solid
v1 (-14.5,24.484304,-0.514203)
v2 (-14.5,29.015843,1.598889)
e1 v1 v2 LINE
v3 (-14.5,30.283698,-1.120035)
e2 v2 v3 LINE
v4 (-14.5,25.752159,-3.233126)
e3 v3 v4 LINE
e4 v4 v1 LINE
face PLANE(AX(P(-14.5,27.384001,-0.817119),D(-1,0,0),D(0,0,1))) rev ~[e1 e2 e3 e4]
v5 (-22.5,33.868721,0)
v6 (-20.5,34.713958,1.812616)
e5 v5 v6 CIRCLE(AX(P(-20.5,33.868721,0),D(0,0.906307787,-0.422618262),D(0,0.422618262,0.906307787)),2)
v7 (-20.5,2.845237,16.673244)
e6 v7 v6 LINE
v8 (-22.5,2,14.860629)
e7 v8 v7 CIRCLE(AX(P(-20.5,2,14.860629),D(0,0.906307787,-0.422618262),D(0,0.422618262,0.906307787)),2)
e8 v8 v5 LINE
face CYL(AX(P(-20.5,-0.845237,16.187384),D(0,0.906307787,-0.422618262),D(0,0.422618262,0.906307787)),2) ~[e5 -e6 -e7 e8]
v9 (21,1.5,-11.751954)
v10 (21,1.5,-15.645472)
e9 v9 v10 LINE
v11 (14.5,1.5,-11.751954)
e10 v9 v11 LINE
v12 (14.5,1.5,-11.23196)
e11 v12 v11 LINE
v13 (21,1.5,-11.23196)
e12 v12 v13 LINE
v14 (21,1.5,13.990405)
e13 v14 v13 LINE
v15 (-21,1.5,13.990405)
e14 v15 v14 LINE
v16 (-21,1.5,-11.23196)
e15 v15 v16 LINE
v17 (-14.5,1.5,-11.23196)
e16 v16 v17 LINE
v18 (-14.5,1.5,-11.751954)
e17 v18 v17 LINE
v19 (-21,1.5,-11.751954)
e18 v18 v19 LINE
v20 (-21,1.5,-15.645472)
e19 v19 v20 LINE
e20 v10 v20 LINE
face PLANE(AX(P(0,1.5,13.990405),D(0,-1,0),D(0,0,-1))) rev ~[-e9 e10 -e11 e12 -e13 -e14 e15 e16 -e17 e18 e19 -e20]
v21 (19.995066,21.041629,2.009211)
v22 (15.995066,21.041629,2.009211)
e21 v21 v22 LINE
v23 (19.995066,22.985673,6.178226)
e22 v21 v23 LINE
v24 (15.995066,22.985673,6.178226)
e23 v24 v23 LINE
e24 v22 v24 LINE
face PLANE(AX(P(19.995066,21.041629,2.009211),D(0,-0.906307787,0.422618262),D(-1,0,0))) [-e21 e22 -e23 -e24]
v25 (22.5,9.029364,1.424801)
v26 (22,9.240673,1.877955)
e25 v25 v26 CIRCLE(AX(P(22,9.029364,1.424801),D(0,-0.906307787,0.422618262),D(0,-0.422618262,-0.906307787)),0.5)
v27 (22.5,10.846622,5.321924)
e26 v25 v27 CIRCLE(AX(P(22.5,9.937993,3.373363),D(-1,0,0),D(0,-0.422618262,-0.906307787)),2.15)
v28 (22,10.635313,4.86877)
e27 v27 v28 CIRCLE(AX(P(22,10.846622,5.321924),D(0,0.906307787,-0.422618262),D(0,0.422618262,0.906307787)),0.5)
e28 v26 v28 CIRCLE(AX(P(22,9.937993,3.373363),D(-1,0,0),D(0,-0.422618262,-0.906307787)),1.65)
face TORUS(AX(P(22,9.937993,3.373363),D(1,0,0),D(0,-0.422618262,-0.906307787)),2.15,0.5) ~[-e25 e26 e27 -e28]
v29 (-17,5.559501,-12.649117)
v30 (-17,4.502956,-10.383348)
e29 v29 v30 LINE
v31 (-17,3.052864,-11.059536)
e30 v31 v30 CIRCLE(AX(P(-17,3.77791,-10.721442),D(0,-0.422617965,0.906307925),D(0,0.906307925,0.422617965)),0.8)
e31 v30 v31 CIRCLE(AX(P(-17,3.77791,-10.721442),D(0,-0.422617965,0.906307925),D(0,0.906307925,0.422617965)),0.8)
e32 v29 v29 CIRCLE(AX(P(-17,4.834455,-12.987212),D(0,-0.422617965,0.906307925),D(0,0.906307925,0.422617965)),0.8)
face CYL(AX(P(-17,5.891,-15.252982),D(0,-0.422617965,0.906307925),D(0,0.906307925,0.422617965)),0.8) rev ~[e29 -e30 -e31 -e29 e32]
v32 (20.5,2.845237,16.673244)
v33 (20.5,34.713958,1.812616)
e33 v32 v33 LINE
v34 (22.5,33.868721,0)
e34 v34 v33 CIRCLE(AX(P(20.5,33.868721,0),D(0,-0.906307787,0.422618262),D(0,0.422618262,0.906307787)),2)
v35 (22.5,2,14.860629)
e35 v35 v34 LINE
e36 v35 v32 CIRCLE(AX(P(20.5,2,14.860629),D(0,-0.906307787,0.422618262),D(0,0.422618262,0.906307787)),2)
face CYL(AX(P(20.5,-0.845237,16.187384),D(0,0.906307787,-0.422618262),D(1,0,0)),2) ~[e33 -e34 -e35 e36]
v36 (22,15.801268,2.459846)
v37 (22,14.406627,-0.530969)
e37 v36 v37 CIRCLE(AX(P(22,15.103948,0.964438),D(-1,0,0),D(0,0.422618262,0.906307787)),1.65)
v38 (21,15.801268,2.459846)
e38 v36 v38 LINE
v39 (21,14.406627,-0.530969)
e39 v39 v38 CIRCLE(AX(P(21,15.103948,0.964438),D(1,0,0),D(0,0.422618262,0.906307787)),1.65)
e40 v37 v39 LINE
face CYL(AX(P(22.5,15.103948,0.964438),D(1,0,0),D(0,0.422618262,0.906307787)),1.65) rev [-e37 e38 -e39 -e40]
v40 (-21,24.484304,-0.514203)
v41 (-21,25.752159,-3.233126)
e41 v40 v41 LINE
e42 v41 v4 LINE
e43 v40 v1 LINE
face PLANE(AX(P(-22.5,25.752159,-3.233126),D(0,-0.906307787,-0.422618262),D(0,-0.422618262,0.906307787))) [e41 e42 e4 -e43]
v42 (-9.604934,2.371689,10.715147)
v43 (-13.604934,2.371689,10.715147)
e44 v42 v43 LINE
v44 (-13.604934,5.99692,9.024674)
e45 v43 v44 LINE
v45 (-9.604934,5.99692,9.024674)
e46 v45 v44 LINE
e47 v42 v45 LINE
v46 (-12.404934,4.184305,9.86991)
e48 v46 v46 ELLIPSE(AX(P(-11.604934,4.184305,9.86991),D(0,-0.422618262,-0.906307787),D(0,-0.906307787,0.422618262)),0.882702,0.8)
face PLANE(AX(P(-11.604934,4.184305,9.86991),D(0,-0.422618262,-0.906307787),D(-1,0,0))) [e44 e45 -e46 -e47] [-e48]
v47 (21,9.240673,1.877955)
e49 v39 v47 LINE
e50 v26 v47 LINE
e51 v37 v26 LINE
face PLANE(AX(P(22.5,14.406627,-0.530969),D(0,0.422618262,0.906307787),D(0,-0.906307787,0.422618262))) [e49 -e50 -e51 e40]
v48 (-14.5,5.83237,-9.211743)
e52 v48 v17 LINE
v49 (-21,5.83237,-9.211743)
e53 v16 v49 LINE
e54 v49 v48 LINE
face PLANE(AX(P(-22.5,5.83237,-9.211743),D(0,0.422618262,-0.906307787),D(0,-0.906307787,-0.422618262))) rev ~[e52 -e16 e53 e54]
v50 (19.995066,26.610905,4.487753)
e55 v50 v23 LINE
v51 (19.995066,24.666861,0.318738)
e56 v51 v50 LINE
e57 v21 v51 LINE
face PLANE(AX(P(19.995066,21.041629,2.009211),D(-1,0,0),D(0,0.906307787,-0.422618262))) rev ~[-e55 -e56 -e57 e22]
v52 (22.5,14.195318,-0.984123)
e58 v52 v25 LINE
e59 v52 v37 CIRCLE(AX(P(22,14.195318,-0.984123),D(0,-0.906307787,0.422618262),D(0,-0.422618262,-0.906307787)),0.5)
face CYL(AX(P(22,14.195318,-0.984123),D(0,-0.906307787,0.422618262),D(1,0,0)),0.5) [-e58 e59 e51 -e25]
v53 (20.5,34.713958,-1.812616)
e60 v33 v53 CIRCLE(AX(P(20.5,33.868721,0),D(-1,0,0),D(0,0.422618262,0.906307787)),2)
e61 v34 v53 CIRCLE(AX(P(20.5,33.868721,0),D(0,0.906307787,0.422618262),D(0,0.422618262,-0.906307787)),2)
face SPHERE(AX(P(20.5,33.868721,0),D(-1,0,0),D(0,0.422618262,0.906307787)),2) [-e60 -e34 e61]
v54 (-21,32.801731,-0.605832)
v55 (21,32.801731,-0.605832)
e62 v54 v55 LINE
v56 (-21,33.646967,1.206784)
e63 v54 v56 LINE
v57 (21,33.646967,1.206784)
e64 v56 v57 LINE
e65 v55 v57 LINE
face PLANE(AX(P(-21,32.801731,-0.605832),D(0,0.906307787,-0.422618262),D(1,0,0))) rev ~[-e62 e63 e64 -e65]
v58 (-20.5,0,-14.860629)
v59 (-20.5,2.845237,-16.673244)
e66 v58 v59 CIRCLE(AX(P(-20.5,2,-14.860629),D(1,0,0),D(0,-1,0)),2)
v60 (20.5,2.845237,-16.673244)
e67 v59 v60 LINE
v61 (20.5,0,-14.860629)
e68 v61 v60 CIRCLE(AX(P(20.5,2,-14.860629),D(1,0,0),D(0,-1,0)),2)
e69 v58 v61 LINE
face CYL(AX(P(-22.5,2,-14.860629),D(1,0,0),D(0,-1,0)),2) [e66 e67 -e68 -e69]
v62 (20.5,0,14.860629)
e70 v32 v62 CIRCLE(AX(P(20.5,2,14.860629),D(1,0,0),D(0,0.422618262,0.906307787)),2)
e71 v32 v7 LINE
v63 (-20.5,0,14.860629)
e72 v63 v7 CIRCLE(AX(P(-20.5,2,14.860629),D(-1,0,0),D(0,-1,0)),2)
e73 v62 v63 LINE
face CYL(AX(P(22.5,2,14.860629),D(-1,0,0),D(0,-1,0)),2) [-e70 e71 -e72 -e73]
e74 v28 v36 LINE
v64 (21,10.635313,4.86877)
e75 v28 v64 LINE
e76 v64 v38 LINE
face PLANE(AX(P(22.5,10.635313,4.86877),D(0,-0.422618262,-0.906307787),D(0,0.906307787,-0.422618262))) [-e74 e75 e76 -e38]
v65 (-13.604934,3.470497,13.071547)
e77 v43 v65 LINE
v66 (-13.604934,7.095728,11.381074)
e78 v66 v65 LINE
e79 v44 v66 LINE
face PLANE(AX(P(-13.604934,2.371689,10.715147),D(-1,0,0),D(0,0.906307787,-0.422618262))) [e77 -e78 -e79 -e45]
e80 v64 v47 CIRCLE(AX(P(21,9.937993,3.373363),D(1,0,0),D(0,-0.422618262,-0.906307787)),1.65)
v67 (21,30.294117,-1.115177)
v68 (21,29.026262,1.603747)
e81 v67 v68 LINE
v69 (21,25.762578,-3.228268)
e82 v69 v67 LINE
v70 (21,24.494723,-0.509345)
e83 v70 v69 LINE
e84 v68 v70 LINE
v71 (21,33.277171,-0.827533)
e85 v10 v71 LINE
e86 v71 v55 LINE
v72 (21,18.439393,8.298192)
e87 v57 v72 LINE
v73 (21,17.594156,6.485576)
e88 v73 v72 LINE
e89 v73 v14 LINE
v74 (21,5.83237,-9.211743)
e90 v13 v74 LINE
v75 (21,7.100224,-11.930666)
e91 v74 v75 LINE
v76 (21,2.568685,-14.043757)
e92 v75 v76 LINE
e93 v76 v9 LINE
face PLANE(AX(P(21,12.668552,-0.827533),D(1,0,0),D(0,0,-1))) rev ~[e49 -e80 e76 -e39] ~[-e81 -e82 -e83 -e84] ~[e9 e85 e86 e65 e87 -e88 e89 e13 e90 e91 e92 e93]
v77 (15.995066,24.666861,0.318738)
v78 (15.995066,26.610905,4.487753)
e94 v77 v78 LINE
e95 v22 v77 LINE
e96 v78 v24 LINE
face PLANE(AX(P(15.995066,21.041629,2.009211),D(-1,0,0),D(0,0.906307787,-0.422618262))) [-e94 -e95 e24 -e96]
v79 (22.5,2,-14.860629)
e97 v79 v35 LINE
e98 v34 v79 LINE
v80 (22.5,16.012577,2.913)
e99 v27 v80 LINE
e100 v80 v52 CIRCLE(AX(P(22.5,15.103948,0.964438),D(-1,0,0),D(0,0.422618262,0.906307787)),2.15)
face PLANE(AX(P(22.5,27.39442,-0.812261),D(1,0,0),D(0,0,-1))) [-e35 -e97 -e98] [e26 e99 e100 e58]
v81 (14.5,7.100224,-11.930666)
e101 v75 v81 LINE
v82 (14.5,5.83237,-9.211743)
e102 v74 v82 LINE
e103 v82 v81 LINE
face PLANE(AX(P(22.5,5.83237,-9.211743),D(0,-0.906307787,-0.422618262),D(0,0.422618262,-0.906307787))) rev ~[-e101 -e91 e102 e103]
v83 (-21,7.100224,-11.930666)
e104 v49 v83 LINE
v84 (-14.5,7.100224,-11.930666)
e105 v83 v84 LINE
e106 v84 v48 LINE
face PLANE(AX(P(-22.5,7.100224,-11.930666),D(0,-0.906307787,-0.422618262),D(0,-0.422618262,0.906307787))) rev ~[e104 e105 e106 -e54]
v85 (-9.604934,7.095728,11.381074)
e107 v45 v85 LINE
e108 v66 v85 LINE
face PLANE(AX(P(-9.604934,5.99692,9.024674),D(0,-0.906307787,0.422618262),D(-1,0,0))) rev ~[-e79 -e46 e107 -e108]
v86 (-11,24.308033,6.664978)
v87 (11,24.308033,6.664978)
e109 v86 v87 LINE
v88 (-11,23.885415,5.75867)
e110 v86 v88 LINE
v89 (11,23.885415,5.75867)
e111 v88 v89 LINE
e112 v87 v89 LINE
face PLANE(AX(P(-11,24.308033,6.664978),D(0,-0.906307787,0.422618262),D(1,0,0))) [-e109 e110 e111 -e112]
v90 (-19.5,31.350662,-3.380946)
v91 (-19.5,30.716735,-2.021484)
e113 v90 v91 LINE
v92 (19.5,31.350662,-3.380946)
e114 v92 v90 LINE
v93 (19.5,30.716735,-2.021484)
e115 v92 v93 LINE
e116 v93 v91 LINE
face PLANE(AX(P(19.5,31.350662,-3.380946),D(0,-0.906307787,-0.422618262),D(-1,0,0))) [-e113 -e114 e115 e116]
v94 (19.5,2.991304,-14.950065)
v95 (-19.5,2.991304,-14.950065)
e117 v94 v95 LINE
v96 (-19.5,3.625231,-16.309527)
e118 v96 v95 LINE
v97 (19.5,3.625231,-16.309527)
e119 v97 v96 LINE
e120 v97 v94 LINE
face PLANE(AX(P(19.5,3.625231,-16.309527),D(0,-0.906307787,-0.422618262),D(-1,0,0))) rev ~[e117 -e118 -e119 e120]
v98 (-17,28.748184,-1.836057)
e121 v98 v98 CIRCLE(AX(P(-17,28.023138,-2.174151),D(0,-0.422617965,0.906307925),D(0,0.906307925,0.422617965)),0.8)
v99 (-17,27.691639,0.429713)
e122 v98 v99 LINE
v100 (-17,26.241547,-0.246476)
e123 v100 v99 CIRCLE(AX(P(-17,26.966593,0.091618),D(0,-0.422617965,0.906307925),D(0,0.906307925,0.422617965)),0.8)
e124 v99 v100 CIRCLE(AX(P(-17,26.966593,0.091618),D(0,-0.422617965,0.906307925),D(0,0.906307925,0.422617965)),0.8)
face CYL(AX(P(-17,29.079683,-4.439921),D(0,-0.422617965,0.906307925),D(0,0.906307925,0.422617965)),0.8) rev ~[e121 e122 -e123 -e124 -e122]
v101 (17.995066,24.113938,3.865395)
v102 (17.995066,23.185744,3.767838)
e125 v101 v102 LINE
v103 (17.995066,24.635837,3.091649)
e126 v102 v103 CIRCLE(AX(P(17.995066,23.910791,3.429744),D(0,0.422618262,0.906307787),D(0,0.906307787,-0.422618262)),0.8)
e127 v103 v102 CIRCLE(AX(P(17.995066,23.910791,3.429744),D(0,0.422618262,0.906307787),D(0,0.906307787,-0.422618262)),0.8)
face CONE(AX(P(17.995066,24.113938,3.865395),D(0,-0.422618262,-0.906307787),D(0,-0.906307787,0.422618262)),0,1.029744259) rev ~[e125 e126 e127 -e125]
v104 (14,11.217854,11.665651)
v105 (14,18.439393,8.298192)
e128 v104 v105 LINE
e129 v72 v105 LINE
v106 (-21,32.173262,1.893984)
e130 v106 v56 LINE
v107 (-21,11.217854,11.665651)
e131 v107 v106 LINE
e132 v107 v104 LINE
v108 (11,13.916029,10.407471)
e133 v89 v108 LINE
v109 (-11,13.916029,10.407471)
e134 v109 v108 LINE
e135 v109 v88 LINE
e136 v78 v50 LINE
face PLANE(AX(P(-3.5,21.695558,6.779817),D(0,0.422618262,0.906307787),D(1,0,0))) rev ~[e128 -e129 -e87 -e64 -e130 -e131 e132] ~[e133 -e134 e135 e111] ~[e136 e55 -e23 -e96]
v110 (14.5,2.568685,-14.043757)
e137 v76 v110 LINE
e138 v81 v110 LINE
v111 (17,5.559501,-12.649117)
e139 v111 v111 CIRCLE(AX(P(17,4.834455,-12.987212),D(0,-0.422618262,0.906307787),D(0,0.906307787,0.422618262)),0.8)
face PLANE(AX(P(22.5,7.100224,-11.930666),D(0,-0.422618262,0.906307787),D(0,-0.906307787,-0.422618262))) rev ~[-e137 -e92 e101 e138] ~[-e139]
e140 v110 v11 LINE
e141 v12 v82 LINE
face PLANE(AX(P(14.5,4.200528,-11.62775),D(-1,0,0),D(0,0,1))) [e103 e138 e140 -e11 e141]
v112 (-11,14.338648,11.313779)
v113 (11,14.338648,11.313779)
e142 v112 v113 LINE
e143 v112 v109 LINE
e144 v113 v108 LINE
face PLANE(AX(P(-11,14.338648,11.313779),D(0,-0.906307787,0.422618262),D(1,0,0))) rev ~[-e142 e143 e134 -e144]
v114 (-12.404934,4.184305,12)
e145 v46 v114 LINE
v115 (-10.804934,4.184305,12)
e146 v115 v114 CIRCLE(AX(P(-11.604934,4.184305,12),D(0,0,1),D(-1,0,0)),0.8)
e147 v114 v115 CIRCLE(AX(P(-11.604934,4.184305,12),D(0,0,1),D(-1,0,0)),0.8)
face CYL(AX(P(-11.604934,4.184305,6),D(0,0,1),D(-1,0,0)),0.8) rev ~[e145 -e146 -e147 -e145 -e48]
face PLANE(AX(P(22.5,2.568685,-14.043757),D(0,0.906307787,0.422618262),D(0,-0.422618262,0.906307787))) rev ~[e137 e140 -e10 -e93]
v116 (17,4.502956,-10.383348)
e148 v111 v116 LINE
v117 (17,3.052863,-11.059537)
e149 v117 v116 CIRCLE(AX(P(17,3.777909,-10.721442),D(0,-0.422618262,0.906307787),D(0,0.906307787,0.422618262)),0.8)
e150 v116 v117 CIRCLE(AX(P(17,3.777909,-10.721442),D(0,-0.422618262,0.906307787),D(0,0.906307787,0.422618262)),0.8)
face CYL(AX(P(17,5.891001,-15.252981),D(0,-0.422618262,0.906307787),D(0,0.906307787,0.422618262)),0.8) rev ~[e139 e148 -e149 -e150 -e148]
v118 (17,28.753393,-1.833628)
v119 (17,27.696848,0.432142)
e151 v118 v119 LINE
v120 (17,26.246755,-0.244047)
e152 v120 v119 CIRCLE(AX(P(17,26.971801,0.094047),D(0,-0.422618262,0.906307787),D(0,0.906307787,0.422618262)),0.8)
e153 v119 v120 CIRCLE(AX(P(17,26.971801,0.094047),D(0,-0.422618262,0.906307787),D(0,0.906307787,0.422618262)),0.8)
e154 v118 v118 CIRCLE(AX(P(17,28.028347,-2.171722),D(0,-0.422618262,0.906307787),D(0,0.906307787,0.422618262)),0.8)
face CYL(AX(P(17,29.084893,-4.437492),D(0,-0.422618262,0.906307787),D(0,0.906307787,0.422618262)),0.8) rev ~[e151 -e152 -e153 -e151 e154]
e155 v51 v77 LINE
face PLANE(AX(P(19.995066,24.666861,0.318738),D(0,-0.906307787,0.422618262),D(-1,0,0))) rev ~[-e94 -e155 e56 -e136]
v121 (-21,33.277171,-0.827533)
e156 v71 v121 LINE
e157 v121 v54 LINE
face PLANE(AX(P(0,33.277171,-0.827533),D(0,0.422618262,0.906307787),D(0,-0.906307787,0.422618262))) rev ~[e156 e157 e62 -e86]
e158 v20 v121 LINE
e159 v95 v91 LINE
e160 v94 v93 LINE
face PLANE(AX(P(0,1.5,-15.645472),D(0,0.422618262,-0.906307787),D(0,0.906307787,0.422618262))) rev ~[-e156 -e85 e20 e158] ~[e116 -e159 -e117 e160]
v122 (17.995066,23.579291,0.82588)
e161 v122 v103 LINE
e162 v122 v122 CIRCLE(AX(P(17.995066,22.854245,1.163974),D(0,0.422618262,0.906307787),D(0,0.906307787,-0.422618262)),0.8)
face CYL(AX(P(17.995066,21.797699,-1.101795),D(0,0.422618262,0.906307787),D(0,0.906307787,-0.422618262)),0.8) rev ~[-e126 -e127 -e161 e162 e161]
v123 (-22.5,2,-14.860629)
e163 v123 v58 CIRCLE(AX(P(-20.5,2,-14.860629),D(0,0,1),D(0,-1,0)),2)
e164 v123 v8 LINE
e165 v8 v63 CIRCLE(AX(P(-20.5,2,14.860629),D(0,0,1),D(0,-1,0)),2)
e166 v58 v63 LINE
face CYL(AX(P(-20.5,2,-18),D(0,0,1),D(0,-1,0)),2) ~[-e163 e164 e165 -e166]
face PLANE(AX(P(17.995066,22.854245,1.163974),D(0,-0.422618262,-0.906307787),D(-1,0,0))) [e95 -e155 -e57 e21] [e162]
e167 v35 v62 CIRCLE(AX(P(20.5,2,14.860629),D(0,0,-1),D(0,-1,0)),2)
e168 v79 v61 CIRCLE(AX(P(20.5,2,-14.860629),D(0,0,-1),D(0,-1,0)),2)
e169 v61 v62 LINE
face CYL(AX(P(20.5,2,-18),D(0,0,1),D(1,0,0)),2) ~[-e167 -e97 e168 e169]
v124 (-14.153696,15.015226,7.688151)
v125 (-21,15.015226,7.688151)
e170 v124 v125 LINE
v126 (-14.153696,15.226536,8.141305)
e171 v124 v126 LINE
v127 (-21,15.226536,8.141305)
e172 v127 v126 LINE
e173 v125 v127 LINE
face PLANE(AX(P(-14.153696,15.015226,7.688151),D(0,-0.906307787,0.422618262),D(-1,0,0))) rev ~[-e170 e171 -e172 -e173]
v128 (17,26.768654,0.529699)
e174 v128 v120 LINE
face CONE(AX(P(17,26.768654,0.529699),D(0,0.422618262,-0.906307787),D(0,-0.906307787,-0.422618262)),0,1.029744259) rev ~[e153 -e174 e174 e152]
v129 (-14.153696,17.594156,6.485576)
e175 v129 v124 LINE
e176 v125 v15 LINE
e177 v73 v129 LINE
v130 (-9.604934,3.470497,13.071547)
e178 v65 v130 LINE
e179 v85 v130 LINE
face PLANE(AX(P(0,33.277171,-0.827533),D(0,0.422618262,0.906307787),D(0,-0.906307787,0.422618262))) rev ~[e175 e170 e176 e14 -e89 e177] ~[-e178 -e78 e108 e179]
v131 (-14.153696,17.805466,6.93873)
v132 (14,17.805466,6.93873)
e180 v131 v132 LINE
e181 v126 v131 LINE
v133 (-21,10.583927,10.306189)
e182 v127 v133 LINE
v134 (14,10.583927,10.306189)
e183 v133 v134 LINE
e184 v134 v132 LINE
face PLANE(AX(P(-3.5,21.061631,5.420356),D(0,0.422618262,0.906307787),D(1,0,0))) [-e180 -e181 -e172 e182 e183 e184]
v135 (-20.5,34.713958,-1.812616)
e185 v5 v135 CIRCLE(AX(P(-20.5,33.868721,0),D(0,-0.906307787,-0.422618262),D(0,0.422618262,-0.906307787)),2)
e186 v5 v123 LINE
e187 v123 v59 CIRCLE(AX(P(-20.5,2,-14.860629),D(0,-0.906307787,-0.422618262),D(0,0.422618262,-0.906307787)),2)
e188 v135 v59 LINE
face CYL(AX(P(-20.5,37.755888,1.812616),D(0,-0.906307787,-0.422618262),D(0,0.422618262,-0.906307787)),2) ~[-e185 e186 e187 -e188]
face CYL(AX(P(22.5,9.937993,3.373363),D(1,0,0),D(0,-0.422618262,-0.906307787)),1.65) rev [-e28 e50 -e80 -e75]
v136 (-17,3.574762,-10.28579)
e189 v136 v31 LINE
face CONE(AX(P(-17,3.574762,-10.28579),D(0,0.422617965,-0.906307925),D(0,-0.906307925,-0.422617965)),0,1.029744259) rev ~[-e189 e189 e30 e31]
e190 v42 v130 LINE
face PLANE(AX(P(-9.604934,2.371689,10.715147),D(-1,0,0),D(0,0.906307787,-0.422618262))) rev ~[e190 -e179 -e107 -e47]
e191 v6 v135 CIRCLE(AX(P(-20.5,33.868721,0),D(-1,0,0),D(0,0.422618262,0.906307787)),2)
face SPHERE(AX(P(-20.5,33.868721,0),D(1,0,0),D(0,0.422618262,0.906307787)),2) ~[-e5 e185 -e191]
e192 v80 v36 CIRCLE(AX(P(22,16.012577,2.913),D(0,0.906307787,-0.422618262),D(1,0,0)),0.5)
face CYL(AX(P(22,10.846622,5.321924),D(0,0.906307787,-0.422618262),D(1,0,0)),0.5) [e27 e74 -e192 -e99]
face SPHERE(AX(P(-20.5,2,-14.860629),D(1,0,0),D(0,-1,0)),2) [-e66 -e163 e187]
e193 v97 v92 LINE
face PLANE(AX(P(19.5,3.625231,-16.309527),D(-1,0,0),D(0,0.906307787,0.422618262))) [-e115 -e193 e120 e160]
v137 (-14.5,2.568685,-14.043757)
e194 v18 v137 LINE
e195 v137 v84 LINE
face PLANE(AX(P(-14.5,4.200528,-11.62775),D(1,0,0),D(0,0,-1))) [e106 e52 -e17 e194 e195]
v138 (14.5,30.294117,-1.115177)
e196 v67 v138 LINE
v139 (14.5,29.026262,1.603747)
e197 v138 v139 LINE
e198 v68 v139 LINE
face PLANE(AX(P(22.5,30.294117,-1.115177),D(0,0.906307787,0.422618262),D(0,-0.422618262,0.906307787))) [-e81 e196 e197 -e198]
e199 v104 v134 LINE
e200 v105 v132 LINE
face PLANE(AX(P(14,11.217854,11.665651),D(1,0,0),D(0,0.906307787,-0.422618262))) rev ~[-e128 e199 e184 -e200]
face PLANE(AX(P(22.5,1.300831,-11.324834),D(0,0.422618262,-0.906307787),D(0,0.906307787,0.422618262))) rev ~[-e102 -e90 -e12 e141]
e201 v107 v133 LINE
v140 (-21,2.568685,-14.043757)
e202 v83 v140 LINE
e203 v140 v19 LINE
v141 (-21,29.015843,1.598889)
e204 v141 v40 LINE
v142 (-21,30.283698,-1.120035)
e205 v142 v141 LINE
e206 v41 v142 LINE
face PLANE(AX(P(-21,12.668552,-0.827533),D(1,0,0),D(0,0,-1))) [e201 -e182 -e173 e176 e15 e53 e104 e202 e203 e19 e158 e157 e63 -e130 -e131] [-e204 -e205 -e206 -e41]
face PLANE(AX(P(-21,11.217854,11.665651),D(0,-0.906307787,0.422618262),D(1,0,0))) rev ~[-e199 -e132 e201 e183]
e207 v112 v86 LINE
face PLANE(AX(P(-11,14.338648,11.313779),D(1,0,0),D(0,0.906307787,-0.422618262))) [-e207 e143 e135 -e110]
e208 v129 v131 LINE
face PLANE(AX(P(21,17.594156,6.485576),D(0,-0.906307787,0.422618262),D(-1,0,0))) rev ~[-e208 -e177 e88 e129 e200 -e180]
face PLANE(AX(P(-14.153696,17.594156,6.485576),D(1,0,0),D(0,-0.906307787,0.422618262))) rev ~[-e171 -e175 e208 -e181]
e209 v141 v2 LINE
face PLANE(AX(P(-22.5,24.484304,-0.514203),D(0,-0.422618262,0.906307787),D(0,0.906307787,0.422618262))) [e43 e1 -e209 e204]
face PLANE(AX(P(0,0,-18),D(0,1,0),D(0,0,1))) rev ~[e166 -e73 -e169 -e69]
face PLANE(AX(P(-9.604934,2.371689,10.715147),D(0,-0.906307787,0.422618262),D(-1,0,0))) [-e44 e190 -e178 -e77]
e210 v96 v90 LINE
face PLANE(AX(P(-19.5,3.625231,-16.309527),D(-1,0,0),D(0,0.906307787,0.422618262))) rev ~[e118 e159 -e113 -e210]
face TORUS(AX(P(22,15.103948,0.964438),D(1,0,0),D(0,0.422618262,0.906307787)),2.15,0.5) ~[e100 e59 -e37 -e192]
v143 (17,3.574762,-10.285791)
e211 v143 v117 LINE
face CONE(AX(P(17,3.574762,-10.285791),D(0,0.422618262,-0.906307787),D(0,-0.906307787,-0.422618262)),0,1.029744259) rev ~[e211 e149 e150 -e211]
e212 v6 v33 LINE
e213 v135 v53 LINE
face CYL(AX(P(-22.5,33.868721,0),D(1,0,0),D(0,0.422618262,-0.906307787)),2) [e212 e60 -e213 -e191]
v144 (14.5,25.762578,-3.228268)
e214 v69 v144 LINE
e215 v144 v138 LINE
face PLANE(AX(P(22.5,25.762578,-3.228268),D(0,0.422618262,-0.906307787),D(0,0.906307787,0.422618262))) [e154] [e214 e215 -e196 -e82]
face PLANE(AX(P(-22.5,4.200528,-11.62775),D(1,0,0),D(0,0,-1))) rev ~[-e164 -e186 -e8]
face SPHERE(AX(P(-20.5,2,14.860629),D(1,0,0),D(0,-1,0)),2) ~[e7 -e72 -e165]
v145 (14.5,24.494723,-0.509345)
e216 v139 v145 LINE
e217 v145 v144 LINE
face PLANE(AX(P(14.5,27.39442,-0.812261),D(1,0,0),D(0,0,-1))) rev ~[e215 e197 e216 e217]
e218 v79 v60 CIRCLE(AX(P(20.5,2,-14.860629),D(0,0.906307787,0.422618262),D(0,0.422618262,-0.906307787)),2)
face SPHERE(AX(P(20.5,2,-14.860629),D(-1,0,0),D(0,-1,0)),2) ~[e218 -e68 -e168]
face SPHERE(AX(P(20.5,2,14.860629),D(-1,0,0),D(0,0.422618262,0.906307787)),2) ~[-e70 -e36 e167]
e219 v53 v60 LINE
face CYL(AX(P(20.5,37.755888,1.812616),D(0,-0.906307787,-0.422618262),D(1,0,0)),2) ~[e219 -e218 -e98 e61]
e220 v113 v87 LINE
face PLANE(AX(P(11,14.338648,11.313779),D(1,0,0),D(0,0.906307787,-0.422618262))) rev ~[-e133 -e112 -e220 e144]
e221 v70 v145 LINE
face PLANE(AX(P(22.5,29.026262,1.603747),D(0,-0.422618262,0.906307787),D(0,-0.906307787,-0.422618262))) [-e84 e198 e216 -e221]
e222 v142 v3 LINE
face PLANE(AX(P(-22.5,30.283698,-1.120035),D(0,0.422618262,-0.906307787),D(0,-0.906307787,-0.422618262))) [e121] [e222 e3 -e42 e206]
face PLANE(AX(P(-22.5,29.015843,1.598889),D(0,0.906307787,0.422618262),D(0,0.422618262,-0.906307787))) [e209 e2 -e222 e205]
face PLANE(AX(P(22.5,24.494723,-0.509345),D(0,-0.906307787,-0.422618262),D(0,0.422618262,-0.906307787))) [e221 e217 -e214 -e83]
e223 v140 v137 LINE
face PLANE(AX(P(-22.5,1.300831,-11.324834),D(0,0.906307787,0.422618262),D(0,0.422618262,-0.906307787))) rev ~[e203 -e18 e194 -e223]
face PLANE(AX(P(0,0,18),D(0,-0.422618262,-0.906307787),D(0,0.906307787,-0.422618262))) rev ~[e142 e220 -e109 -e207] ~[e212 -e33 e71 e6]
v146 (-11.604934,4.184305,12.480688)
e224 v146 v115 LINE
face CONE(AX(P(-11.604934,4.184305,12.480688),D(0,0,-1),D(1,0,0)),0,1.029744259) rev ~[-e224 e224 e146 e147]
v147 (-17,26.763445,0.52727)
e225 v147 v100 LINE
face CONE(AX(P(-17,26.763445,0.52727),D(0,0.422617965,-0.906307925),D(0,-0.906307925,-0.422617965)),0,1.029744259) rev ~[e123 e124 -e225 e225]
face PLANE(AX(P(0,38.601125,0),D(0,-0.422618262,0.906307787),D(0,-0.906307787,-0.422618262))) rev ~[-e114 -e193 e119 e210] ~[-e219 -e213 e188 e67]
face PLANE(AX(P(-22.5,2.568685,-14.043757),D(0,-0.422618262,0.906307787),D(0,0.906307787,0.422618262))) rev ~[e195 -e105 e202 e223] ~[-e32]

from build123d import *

# Parameters (mm, degrees)
EXTRUDE_1_DEPTH                  = 22.5
SKETCH_2_W                       = 22
SKETCH_2_H                       = 11
CUT_EXTRUDE_1_DEPTH              = 1
CUT_EXTRUDE_2_DEPTH              = 1.5
CUT_EXTRUDE_3_DEPTH              = 21
SKETCH_5_W                       = 39
SKETCH_5_H                       = 30.591628496
CUT_EXTRUDE_4_DEPTH              = 1.5
CUT_EXTRUDE_5_DEPTH              = 2
SKETCH_9_W                       = 4
SKETCH_9_H                       = 4
EXTRUDE_2_DEPTH                  = 5
CUT_EXTRUDE_6_DEPTH              = 5
EXTRUDE_3_DEPTH                  = 8
EXTRUDE_4_DEPTH                  = 8
HOLE_WIZARD_M2_3_D               = 1.6
HOLE_WIZARD_M2_3_DEPTH           = 2.5
HOLE_WIZARD_M2_3_TIP             = 0.480688495
HOLE_WIZARD_M2_3_ON_FACE_2_D     = 1.6
HOLE_WIZARD_M2_3_ON_FACE_2_DEPTH = 2.5
HOLE_WIZARD_M2_3_ON_FACE_2_TIP   = 0.480688495
HOLE_WIZARD_M2_5_D               = 1.6
HOLE_WIZARD_M2_5_DEPTH           = 2.5
HOLE_WIZARD_M2_5_TIP             = 0.480688495
EXTRUDE_6_DEPTH                  = 8
EXTRUDE_7_DEPTH                  = 8
HOLE_WIZARD_M2_7_D               = 1.6
HOLE_WIZARD_M2_7_DEPTH           = 2.5
HOLE_WIZARD_M2_7_TIP             = 0.480688495
HOLE_WIZARD_M2_7_ON_FACE_2_D     = 1.6
HOLE_WIZARD_M2_7_ON_FACE_2_DEPTH = 2.5
HOLE_WIZARD_M2_7_ON_FACE_2_TIP   = 0.480688495
HOLE_WIZARD_M2_11_D              = 1.6
HOLE_WIZARD_M2_11_DEPTH          = 3
HOLE_WIZARD_M2_11_TIP            = 0.480688495
FILLET_2_R                       = 2
FILLET_3_R                       = 0.5


with BuildPart() as part:
    # 草图1 → 凸台-拉伸1 (new body, symmetric)
    with BuildSketch(Plane(origin=(0, 0, 0), x_dir=(0, 0, -1), z_dir=(1, 0, 0))):
        Polygon((18, 0), (-18, 0), (0, 38.601124569), align=None)
    extrude(amount=EXTRUDE_1_DEPTH, both=True)

    # 草图2 → 切除-拉伸1 (cut)
    with BuildSketch(Plane(origin=(0, 6.894399988, 14.785088487), x_dir=(1, 0, 0), z_dir=(0, 0.422618262, 0.906307787))):
        with Locations((0, 13.713818509)):
            Rectangle(SKETCH_2_W, SKETCH_2_H)
    extrude(amount=-CUT_EXTRUDE_1_DEPTH, mode=Mode.SUBTRACT)

    # 草图3 → 切除-拉伸2 (cut)
    with BuildSketch(Plane(origin=(0, 6.471781726, 13.8787807), x_dir=(1, 0, 0), z_dir=(0, 0.422618262, 0.906307787))):
        Polygon((0, 5.236711419), (14, 5.236711419), (14, 13.686711419), (14, 28.358445695), (-21, 28.358445695), (-21, 5.236711419), align=None)
    extrude(amount=-CUT_EXTRUDE_2_DEPTH, mode=Mode.SUBTRACT)

    # 草图4 → 切除-拉伸3 (cut, symmetric)
    with BuildSketch(Plane(origin=(0, 0, 0), x_dir=(0, 0, -1), z_dir=(1, 0, 0))):
        Polygon((0.827533439, 33.277171007), (-13.990404756, 1.5), (15.645471634, 1.5), align=None)
    extrude(amount=CUT_EXTRUDE_3_DEPTH, both=True, mode=Mode.SUBTRACT)

    # 草图5 → 切除-拉伸4 (cut)
    with BuildSketch(Plane(origin=(0, 6.894399988, -14.785088487), x_dir=(-1, 0, 0), z_dir=(0, 0.422618262, -0.906307787))):
        with Locations((0, 11.688685537)):
            Rectangle(SKETCH_5_W, SKETCH_5_H)
    extrude(amount=-CUT_EXTRUDE_4_DEPTH, mode=Mode.SUBTRACT)

    # 草图6 → 切除-拉伸5 (cut)
    with BuildSketch(Plane(origin=(0, 5.626545203, 12.066165126), x_dir=(-1, 0, 0), z_dir=(0, -0.422618262, -0.906307787))):
        Polygon((-21, 13.204797954), (14.153696271, 13.204797954), (14.153696271, 10.359263572), (21, 10.359263572), (21, 29.984499785), (-21, 29.984499785), align=None)
    extrude(amount=-CUT_EXTRUDE_5_DEPTH, mode=Mode.SUBTRACT)

    # 草图9 → 凸台-拉伸2 (add)
    with BuildSketch(Plane(origin=(0, 4.527737722, 9.70976488), x_dir=(-1, 0, 0), z_dir=(0, -0.422618262, -0.906307787))):
        with Locations((-17.995066385, 20.221063534)):
            Rectangle(SKETCH_9_W, SKETCH_9_H)
        with Locations((11.604933615, -0.378936466)):
            Rectangle(SKETCH_9_W, SKETCH_9_H)
    extrude(amount=-EXTRUDE_2_DEPTH)

    # 草图12 → 切除-拉伸6 (cut)
    with BuildSketch(Plane(origin=(22.5, 0, 0), x_dir=(0, 0, -1), z_dir=(1, 0, 0))):
        with BuildLine():
            Line((-4.868770405, 10.635313289), (-2.459846313, 15.801267675))
            ThreePointArc((-2.459846313, 15.801267675), (-0.267118332, 16.599355392), (0.530969385, 14.406627411))
            Line((0.530969385, 14.406627411), (-1.877954707, 9.240673025))
            ThreePointArc((-1.877954707, 9.240673025), (-4.070682688, 8.442585308), (-4.868770405, 10.635313289))
        make_face()
    extrude(amount=-CUT_EXTRUDE_6_DEPTH, mode=Mode.SUBTRACT)

    # 草图14 → 凸台-拉伸3 (add)
    with BuildSketch(Plane.ZY.offset(22.5)):
        Polygon((-1.120034816, 30.283698198), (-3.233126124, 25.752159263), (-0.514202763, 24.484304477), (1.598888545, 29.015843413), align=None)
    extrude(amount=-EXTRUDE_3_DEPTH)

    # 草图15 → 凸台-拉伸4 (add)
    with BuildSketch(Plane(origin=(22.5, 0, 0), x_dir=(0, 0, -1), z_dir=(1, 0, 0))):
        Polygon((14.043757485, 2.568685494), (11.324834124, 1.300830709), (9.211742816, 5.832369644), (11.930666177, 7.100224429), align=None)
    extrude(amount=-EXTRUDE_4_DEPTH)

    # M2 螺纹孔3
    with Locations(Plane(origin=(17, 4.834454961, -12.987211831), x_dir=(0, -0.906307787, -0.422618262), z_dir=(0, 0.422618262, -0.906307787))):
        with Locations((0, 0)):
            Hole(HOLE_WIZARD_M2_3_D / 2, depth=HOLE_WIZARD_M2_3_DEPTH)
            with Locations((0, 0, -(HOLE_WIZARD_M2_3_DEPTH + HOLE_WIZARD_M2_3_TIP / 2))):  # 118° drill point
                Cone(0, HOLE_WIZARD_M2_3_D / 2, HOLE_WIZARD_M2_3_TIP, mode=Mode.SUBTRACT)

    # M2 螺纹孔3 on face 2
    with Locations(Plane(origin=(-17, 28.023137941, -2.174151375), x_dir=(0, -0.906307925, -0.422617965), z_dir=(0, 0.422617965, -0.906307925))):
        with Locations((1e-09, 0)):
            Hole(HOLE_WIZARD_M2_3_ON_FACE_2_D / 2, depth=HOLE_WIZARD_M2_3_ON_FACE_2_DEPTH)
            with Locations((0, 0, -(HOLE_WIZARD_M2_3_ON_FACE_2_DEPTH + HOLE_WIZARD_M2_3_ON_FACE_2_TIP / 2))):  # 118° drill point
                Cone(0, HOLE_WIZARD_M2_3_ON_FACE_2_D / 2, HOLE_WIZARD_M2_3_ON_FACE_2_TIP, mode=Mode.SUBTRACT)

    # M2 螺纹孔5
    with Locations(Plane(origin=(17.995066385, 22.854245065, 1.163974158), x_dir=(0, -0.906307787, 0.422618262), z_dir=(0, -0.422618262, -0.906307787))):
        with Locations((0, 0)):
            Hole(HOLE_WIZARD_M2_5_D / 2, depth=HOLE_WIZARD_M2_5_DEPTH)
            with Locations((0, 0, -(HOLE_WIZARD_M2_5_DEPTH + HOLE_WIZARD_M2_5_TIP / 2))):  # 118° drill point
                Cone(0, HOLE_WIZARD_M2_5_D / 2, HOLE_WIZARD_M2_5_TIP, mode=Mode.SUBTRACT)

    # 草图27 → 凸台-拉伸6 (add)
    with BuildSketch(Plane.ZY.offset(22.5)):
        Polygon((-14.043757485, 2.568685494), (-11.930666177, 7.100224429), (-9.211742816, 5.832369644), (-11.324834124, 1.300830709), align=None)
    extrude(amount=-EXTRUDE_6_DEPTH)

    # 草图28 → 凸台-拉伸7 (add)
    with BuildSketch(Plane(origin=(22.5, 0, 0), x_dir=(0, 0, -1), z_dir=(1, 0, 0))):
        Polygon((1.115176626, 30.294116619), (-1.603746735, 29.026261833), (0.509344574, 24.494722898), (3.228267935, 25.762577683), align=None)
    extrude(amount=-EXTRUDE_7_DEPTH)

    # M2 螺纹孔7
    with Locations(Plane(origin=(17, 28.028347151, -2.171722281), x_dir=(0, -0.906307787, -0.422618262), z_dir=(0, 0.422618262, -0.906307787))):
        with Locations((0, 0)):
            Hole(HOLE_WIZARD_M2_7_D / 2, depth=HOLE_WIZARD_M2_7_DEPTH)
            with Locations((0, 0, -(HOLE_WIZARD_M2_7_DEPTH + HOLE_WIZARD_M2_7_TIP / 2))):  # 118° drill point
                Cone(0, HOLE_WIZARD_M2_7_D / 2, HOLE_WIZARD_M2_7_TIP, mode=Mode.SUBTRACT)

    # M2 螺纹孔7 on face 2
    with Locations(Plane(origin=(-17, 4.834454961, -12.987211831), x_dir=(0, -0.906307925, -0.422617965), z_dir=(0, 0.422617965, -0.906307925))):
        with Locations((0, 0)):
            Hole(HOLE_WIZARD_M2_7_ON_FACE_2_D / 2, depth=HOLE_WIZARD_M2_7_ON_FACE_2_DEPTH)
            with Locations((0, 0, -(HOLE_WIZARD_M2_7_ON_FACE_2_DEPTH + HOLE_WIZARD_M2_7_ON_FACE_2_TIP / 2))):  # 118° drill point
                Cone(0, HOLE_WIZARD_M2_7_ON_FACE_2_D / 2, HOLE_WIZARD_M2_7_ON_FACE_2_TIP, mode=Mode.SUBTRACT)

    # M2 螺纹孔11
    with Locations(Plane(origin=(0, 0, 9), x_dir=(1, 0, 0), z_dir=(0, 0, -1))):
        with Locations((-11.604933615, -4.184304653)):
            Hole(HOLE_WIZARD_M2_11_D / 2, depth=HOLE_WIZARD_M2_11_DEPTH)
            with Locations((0, 0, -(HOLE_WIZARD_M2_11_DEPTH + HOLE_WIZARD_M2_11_TIP / 2))):  # 118° drill point
                Cone(0, HOLE_WIZARD_M2_11_D / 2, HOLE_WIZARD_M2_11_TIP, mode=Mode.SUBTRACT)

    # 圆角2
    fillet_2_edges = [part.edges().sort_by_distance(p)[0] for p in [
        (22.5, 0, 0),
        (-22.5, 0, 0),
        (22.5, 19.300562285, -9),
        (-22.5, 19.300562285, 9),
        (-22.5, 19.300562285, -9),
        (0, 0, -18),
        (0, 0, 18),
        (0, 38.601124569, 0),
        (22.5, 19.300562285, 9),
    ]]
    fillet(fillet_2_edges, radius=FILLET_2_R)

    # 圆角3
    fillet_3_edges = [part.edges().sort_by_distance(p)[0] for p in [
        (22.5, 8.442585308, 4.070682688),
        (22.5, 11.823650218, 0.673492661),
        (22.5, 16.599355392, 0.267118332),
        (22.5, 13.218290482, 3.664308359),
    ]]
    fillet(fillet_3_edges, radius=FILLET_3_R)


solid = part.part
